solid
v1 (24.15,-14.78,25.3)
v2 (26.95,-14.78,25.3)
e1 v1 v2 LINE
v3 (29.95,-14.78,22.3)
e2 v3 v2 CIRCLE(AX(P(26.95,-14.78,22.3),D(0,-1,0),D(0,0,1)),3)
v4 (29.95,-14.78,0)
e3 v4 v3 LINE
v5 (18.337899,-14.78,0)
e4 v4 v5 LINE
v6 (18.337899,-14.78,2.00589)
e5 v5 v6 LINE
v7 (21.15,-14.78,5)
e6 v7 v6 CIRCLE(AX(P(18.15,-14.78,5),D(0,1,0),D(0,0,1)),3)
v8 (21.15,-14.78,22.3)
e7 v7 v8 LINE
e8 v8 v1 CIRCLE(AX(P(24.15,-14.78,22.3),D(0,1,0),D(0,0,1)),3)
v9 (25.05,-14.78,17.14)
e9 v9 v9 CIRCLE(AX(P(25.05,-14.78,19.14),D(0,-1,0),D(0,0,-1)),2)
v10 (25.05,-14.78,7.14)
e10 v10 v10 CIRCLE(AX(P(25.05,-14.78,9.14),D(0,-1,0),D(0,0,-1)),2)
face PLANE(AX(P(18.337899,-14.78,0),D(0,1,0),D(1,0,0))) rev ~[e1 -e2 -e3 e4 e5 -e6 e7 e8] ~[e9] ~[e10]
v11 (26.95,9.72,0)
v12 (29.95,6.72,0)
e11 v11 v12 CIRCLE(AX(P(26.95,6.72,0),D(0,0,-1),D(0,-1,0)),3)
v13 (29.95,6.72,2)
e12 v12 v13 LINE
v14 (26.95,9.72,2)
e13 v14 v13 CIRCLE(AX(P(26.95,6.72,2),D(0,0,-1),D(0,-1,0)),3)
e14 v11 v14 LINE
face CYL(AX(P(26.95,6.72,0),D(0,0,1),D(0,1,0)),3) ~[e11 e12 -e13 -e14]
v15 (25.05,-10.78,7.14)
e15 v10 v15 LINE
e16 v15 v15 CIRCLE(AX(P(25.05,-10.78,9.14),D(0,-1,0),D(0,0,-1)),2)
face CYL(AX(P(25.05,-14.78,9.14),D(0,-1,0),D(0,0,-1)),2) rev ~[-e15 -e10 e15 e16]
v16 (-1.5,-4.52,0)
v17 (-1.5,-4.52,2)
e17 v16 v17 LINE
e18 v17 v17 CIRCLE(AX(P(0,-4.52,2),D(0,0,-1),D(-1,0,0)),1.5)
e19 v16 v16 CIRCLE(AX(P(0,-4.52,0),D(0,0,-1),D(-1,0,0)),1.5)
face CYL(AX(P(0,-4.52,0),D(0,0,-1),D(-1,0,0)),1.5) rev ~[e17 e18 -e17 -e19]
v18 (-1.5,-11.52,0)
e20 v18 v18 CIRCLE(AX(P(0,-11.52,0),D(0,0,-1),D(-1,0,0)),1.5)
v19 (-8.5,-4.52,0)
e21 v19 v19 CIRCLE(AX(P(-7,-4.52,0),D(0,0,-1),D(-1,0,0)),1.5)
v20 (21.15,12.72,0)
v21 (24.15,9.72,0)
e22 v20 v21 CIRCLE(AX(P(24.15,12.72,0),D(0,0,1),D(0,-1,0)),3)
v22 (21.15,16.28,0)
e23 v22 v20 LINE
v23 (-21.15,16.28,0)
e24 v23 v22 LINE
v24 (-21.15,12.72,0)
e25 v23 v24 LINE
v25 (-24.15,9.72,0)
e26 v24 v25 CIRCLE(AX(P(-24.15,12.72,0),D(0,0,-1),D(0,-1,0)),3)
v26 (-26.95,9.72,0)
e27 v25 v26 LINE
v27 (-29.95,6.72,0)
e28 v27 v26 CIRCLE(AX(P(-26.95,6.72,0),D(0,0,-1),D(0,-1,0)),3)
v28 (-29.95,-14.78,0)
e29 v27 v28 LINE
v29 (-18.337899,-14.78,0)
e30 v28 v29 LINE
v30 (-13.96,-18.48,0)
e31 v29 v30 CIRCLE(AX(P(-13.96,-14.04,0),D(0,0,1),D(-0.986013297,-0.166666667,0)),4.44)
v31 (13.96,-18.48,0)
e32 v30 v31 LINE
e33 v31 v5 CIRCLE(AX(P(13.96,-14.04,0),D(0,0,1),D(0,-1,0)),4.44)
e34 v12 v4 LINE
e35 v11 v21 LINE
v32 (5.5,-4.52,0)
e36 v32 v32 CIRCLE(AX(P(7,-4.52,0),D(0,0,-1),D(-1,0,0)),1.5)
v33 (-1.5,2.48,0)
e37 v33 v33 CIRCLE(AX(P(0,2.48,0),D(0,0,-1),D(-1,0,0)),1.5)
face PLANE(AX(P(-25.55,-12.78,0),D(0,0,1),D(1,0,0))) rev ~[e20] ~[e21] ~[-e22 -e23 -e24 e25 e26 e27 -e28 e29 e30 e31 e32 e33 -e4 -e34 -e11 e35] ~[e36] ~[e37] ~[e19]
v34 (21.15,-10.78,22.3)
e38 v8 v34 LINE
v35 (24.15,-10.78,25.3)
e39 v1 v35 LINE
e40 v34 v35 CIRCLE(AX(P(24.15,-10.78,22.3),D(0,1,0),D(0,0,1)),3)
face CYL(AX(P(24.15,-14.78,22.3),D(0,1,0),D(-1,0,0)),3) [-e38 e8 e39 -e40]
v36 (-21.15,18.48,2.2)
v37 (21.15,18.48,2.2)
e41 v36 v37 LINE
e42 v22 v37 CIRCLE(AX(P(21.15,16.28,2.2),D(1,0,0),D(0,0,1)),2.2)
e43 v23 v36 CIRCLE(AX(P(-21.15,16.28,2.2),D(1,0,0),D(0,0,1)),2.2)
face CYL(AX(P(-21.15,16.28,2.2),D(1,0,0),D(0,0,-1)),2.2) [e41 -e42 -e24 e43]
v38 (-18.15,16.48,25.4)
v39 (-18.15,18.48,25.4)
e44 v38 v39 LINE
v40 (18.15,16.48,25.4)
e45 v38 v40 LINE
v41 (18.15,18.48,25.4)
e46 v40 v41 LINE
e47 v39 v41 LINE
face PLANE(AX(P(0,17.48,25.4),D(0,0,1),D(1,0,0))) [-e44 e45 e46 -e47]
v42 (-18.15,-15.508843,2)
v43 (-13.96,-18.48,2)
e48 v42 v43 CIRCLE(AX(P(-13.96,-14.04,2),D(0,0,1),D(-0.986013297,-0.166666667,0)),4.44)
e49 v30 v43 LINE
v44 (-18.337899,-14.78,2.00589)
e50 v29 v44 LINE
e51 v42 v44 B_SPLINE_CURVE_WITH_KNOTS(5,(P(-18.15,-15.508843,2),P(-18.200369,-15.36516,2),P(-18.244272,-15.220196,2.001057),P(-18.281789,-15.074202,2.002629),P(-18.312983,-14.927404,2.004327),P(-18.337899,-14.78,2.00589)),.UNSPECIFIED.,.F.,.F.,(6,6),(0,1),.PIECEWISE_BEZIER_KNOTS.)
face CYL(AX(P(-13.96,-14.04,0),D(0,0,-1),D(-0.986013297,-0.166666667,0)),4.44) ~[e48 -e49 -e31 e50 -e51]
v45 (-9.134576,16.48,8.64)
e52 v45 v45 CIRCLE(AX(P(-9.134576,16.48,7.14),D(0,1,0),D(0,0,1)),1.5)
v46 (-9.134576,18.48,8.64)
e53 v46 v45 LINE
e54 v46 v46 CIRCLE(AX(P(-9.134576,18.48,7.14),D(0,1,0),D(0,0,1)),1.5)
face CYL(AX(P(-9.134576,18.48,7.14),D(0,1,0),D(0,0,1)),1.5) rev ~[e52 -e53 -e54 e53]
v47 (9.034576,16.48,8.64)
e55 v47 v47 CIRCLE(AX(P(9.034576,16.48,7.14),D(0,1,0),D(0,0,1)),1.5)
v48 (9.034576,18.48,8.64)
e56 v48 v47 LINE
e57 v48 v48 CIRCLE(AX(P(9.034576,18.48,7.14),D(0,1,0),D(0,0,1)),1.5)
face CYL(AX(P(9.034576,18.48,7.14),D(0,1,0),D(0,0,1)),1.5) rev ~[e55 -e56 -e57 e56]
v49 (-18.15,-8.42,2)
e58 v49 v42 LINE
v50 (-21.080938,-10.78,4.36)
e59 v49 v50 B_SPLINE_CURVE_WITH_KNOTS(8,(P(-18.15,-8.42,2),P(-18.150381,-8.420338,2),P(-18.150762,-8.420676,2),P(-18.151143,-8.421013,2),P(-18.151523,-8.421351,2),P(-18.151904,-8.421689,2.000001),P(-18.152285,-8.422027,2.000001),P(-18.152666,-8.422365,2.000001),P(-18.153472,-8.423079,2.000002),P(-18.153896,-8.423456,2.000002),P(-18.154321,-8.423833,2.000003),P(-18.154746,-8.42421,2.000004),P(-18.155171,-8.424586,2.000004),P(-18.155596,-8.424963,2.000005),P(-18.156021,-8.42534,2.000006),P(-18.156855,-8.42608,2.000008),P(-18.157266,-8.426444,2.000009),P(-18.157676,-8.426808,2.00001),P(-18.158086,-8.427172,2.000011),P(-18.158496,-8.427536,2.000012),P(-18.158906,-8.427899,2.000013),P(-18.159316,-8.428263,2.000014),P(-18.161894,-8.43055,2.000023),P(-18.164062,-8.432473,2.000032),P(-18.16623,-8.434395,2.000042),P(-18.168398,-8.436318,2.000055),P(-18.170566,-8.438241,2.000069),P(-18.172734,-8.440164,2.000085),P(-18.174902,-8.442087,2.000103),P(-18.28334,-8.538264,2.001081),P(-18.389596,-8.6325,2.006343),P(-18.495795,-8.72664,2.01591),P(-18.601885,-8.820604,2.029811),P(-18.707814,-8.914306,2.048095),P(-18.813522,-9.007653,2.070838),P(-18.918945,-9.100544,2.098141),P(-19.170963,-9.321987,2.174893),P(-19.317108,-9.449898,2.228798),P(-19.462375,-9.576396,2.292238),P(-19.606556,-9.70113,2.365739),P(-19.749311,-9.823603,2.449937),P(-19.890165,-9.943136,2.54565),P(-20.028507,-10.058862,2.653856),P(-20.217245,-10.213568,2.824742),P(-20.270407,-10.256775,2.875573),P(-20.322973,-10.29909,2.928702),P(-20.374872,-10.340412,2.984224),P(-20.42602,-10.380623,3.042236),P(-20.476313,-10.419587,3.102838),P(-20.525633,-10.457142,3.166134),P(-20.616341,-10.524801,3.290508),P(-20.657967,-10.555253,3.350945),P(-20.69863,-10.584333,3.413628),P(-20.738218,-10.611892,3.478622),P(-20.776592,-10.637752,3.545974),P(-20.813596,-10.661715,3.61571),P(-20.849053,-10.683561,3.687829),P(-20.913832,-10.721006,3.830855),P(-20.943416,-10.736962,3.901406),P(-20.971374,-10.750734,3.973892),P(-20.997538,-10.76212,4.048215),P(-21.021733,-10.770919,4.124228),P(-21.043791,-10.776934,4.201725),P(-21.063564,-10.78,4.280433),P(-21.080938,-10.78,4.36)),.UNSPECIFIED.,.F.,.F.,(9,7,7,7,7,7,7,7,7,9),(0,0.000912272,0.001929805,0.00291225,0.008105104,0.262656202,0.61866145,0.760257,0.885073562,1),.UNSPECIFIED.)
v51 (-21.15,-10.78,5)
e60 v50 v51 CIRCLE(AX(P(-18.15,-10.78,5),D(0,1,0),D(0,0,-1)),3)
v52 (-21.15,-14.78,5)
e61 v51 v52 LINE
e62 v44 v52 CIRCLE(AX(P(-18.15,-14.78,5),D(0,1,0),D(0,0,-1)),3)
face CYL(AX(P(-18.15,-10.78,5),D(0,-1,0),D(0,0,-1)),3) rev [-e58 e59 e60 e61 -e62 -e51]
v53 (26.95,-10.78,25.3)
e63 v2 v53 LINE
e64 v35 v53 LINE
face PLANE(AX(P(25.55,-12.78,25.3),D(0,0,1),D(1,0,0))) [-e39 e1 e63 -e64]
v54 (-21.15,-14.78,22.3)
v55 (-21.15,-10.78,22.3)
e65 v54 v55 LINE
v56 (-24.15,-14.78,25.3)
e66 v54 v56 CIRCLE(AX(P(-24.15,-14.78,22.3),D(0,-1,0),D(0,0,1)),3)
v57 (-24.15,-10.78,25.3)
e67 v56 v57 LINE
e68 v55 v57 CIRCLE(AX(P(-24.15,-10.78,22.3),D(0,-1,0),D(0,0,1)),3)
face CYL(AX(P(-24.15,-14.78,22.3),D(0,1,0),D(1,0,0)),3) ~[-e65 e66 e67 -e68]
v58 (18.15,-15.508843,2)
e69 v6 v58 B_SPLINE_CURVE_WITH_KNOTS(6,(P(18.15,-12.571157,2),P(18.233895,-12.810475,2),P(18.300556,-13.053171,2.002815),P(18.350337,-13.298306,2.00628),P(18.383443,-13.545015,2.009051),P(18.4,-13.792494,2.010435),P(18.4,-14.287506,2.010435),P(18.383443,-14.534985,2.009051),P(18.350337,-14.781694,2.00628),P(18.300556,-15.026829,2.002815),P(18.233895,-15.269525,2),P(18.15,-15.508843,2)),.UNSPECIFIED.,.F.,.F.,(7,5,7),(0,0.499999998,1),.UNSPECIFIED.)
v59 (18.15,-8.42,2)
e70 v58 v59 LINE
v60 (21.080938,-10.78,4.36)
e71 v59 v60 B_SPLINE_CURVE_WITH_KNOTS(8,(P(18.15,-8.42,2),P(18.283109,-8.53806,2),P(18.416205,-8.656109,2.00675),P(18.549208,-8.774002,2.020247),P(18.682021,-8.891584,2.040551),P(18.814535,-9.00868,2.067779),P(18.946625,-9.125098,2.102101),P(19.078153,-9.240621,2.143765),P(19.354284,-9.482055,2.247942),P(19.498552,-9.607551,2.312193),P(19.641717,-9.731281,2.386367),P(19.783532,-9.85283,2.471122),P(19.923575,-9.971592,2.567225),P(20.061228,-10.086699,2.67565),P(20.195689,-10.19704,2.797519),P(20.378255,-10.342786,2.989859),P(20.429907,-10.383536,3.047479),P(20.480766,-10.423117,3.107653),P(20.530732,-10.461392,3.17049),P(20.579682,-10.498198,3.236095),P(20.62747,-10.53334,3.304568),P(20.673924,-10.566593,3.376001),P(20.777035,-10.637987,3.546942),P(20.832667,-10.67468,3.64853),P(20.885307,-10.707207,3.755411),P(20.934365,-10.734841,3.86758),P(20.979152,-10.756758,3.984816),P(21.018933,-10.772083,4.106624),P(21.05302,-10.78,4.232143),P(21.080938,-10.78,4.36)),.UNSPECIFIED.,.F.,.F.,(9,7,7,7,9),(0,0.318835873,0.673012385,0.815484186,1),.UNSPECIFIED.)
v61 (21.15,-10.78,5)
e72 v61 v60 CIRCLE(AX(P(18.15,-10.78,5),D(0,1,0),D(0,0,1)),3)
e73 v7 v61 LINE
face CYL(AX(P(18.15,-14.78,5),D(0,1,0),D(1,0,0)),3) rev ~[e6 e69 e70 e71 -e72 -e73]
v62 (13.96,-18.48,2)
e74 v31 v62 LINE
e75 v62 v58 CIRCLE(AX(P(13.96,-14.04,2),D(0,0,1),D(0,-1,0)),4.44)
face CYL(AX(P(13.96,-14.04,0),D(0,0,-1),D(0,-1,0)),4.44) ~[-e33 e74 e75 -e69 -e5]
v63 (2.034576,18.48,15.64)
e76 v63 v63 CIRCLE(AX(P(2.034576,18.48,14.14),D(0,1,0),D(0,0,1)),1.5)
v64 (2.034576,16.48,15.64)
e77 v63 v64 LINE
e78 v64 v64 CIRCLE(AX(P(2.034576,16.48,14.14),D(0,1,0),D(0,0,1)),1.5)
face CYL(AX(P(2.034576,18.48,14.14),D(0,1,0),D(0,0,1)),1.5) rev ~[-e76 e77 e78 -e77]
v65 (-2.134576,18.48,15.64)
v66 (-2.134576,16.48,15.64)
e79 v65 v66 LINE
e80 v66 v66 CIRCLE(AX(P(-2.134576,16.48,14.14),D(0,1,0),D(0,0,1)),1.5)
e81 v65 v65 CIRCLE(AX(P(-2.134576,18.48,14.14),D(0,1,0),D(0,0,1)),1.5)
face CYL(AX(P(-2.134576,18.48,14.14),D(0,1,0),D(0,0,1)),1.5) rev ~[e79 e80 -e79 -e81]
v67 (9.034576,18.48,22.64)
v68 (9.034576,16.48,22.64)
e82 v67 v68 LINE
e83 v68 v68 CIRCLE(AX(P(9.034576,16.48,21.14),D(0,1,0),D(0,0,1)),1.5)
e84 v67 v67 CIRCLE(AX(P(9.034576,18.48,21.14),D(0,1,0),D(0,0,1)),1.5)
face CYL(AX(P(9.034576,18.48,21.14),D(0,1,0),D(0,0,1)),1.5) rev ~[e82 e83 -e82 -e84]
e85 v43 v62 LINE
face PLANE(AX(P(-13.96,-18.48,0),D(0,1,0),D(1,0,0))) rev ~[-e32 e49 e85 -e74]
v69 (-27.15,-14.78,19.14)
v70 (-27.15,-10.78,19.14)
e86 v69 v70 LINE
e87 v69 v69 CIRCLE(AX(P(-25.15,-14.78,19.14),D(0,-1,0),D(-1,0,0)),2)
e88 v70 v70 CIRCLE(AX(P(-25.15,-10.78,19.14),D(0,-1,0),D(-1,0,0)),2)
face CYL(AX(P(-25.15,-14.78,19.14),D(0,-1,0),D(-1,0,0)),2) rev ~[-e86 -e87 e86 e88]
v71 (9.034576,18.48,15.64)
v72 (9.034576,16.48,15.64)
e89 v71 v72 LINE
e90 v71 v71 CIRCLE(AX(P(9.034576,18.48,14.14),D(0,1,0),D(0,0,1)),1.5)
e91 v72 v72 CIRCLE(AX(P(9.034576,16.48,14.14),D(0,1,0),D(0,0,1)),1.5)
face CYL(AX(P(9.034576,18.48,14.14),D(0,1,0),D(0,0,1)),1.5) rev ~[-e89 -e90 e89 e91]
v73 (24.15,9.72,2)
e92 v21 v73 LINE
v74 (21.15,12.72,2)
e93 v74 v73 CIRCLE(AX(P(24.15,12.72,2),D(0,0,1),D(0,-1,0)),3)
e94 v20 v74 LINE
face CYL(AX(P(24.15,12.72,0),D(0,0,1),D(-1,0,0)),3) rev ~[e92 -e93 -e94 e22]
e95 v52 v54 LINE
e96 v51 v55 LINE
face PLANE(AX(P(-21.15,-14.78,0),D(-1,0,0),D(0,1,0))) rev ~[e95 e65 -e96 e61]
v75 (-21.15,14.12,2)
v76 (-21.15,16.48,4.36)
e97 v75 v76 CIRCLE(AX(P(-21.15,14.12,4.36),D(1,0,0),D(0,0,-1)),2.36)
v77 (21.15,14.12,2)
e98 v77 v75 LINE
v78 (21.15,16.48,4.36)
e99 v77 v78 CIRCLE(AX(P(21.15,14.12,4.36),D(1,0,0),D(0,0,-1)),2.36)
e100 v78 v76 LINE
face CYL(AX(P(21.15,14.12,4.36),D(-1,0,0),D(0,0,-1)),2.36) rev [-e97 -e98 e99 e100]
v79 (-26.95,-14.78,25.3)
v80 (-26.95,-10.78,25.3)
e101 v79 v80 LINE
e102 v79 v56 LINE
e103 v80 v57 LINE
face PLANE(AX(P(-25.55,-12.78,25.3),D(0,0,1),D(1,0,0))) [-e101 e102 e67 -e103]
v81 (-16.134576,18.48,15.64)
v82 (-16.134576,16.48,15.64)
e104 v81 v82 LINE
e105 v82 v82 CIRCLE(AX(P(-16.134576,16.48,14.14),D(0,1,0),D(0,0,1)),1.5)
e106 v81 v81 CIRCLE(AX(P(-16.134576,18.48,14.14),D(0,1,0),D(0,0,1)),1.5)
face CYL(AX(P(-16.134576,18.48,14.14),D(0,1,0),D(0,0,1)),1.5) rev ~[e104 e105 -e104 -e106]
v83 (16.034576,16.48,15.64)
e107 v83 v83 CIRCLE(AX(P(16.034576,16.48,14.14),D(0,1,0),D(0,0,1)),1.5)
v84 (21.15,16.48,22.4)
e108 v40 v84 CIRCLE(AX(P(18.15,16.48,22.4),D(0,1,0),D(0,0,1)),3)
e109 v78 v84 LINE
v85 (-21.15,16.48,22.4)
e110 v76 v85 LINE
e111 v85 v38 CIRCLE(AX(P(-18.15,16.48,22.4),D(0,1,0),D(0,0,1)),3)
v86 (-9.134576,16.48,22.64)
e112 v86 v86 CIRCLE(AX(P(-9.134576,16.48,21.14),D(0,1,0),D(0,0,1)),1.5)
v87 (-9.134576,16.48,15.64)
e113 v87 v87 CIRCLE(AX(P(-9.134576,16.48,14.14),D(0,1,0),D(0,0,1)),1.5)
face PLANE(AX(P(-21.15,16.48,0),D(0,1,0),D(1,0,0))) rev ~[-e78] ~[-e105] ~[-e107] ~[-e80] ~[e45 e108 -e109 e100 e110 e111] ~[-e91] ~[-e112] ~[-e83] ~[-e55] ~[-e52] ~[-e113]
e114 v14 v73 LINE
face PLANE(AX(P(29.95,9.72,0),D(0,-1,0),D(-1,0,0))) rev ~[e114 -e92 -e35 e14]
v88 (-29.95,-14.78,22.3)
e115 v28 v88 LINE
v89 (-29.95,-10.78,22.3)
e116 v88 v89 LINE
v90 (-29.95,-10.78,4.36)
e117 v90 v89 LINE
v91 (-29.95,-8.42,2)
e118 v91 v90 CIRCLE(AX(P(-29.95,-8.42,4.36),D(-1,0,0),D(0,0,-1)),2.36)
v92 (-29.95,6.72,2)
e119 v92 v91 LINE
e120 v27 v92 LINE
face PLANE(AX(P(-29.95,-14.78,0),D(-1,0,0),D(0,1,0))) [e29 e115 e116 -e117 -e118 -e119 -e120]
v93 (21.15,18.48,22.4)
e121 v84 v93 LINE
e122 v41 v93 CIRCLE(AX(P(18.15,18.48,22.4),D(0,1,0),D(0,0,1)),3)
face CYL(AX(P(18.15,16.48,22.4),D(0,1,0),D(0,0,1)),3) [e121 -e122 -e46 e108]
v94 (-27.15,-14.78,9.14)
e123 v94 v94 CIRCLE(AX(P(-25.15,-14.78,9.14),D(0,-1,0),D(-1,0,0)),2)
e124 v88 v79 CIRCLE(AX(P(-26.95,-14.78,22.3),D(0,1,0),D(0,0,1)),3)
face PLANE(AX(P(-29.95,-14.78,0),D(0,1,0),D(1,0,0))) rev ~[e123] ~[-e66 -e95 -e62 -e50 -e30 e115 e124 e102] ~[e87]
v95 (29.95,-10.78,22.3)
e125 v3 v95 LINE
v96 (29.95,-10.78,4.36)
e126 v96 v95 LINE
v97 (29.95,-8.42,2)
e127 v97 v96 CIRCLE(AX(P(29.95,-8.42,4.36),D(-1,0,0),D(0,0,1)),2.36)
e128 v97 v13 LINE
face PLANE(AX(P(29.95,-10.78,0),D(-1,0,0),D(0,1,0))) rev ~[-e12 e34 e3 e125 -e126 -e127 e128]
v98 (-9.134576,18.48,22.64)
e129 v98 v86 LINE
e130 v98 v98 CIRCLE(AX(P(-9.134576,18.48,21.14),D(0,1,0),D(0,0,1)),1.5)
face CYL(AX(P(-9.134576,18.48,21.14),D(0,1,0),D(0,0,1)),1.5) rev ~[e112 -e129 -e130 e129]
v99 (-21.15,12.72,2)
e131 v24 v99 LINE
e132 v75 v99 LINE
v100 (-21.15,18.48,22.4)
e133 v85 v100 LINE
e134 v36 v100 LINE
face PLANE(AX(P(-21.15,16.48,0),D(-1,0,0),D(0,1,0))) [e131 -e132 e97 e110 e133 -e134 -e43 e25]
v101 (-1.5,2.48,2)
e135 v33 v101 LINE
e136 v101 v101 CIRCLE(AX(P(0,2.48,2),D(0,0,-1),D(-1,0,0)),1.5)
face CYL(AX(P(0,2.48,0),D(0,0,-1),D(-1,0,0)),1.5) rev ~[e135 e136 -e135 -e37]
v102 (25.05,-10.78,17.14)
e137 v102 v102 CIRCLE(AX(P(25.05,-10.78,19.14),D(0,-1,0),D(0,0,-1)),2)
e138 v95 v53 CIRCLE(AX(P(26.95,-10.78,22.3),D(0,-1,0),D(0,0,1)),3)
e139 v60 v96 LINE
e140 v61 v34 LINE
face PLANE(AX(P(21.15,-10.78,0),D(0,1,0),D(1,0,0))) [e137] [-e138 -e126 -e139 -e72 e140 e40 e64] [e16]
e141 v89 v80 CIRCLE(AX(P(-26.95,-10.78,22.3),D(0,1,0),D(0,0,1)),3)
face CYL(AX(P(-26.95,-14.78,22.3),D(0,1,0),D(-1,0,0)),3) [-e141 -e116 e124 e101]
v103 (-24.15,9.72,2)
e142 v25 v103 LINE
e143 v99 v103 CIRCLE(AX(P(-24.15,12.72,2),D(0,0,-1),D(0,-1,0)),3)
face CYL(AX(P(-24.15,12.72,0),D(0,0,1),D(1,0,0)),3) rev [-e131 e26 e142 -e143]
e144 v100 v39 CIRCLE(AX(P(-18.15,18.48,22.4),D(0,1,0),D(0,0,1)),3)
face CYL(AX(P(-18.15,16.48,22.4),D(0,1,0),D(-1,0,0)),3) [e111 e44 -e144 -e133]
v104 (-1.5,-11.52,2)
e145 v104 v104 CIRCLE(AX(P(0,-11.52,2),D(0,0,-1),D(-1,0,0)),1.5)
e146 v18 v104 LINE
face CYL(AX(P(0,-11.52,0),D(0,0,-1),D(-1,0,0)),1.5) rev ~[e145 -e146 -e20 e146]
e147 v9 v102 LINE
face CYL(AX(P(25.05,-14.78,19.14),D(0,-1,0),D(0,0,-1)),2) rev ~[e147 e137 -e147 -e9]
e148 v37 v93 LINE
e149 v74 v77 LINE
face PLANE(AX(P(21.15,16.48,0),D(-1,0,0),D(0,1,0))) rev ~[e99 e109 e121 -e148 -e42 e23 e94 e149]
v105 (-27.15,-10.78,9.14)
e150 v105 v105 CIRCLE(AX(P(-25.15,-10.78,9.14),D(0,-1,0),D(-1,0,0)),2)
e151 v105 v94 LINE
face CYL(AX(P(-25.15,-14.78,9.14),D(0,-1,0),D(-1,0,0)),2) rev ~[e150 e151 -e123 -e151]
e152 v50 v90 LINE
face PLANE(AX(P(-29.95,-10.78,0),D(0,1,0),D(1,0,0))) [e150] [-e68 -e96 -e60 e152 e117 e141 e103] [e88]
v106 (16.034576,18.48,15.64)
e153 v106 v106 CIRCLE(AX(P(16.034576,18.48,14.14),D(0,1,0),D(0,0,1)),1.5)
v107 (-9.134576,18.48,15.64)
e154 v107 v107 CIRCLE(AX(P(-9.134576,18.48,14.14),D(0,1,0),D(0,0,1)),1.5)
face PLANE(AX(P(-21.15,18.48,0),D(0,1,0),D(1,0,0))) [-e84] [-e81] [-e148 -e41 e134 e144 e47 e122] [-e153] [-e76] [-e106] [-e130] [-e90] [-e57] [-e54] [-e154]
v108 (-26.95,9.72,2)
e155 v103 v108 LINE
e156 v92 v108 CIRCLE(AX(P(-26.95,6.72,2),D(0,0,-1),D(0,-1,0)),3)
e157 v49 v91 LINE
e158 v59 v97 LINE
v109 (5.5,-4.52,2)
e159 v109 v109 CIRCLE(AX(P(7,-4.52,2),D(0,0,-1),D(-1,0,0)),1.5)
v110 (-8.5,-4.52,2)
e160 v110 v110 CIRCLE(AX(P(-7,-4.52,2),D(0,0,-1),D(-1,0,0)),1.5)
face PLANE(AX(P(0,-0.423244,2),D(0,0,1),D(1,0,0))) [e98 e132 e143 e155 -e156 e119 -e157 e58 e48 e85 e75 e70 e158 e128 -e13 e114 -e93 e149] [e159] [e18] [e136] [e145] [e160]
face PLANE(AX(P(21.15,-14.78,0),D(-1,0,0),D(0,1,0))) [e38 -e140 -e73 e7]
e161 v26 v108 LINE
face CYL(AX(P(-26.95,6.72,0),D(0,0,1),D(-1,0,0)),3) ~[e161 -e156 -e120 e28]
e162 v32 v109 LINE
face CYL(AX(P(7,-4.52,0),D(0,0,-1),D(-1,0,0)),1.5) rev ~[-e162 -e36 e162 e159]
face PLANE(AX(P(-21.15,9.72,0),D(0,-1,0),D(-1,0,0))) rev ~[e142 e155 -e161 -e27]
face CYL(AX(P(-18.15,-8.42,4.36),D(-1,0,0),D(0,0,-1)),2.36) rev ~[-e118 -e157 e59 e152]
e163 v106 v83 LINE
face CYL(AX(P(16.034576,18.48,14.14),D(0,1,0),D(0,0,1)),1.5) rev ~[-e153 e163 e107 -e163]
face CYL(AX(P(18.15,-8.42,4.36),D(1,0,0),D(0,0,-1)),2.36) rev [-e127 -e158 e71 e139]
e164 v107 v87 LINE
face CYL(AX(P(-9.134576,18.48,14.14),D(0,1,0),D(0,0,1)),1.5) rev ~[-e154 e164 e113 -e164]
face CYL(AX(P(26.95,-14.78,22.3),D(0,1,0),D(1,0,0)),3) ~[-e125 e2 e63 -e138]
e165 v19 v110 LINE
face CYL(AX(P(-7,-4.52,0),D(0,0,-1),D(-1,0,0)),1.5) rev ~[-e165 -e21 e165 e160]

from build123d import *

# Parameters (mm, degrees)
BOSS_EXTRUDE1_DEPTH = 2
SKETCH1_3_W         = 42.3
SKETCH1_3_H         = 2
BOSS_EXTRUDE2_DEPTH = 25.4
SKETCH1_4_W         = 8.8
SKETCH1_4_H         = 4
BOSS_EXTRUDE3_DEPTH = 25.3
FILLET31_R          = 3
FILLET32_R          = 2.36
FILLET26_R          = 2.2
SKETCH2_R           = 2
CUT_EXTRUDE1_DEPTH  = 10
SKETCH3_R           = 1.5
CUT_EXTRUDE2_DEPTH  = 10
SKETCH4_R           = 1.5
CUT_EXTRUDE3_DEPTH  = 10


with BuildPart() as part:
    # Sketch1 → Boss-Extrude1 (new body)
    with BuildSketch(Plane.XY):
        with BuildLine():
            Line((21.15, 16.48), (-21.15, 16.48))
            Line((-21.15, 16.48), (-21.15, 9.72))
            Line((-21.15, 9.72), (-29.95, 9.72))
            Line((-29.95, 9.72), (-29.95, -10.78))
            Line((-29.95, -10.78), (-21.15, -10.78))
            Line((-21.15, -10.78), (-21.15, -14.78))
            Line((-21.15, -14.78), (-18.337899039, -14.78))
            ThreePointArc((-18.337899039, -14.78), (-16.826007676, -17.431106014), (-13.96, -18.48))
            Line((-13.96, -18.48), (13.96, -18.48))
            ThreePointArc((13.96, -18.48), (16.826007676, -17.431106014), (18.337899039, -14.78))
            Line((18.337899039, -14.78), (21.15, -14.78))
            Line((21.15, -14.78), (21.15, -10.78))
            Line((21.15, -10.78), (29.95, -10.78))
            Line((29.95, -10.78), (29.95, 9.72))
            Line((29.95, 9.72), (21.15, 9.72))
            Line((21.15, 9.72), (21.15, 16.48))
        make_face()
    extrude(amount=BOSS_EXTRUDE1_DEPTH)

    # Sketch1<3> → Boss-Extrude2 (add)
    with BuildSketch(Plane.XY):
        with Locations((0, 17.48)):
            Rectangle(SKETCH1_3_W, SKETCH1_3_H)
    extrude(amount=BOSS_EXTRUDE2_DEPTH)

    # Sketch1<4> → Boss-Extrude3 (add)
    with BuildSketch(Plane.XY):
        with Locations((-25.55, -12.78)):
            Rectangle(SKETCH1_4_W, SKETCH1_4_H)
        with Locations((25.55, -12.78)):
            Rectangle(SKETCH1_4_W, SKETCH1_4_H)
    extrude(amount=BOSS_EXTRUDE3_DEPTH)

    # Fillet31
    fillet31_edges = [part.edges().sort_by_distance(p)[0] for p in [
        (21.15, -12.78, 25.3),
        (29.95, -12.78, 25.3),
        (21.15, 17.48, 25.4),
        (-21.15, 17.48, 25.4),
        (-29.95, -12.78, 25.3),
        (-21.15, -12.78, 25.3),
        (-29.95, 9.72, 1),
        (-21.15, 9.72, 1),
        (21.15, 9.72, 1),
        (29.95, 9.72, 1),
        (21.15, -12.78, 2),
        (-21.15, -12.78, 2),
    ]]
    fillet(fillet31_edges, radius=FILLET31_R)

    # Fillet32
    fillet32_edges = [part.edges().sort_by_distance(p)[0] for p in [
        (24.05, -10.78, 2),
        (-24.05, -10.78, 2),
        (0, 16.48, 2),
    ]]
    fillet(fillet32_edges, radius=FILLET32_R)

    # Fillet26
    fillet26_edges = [part.edges().sort_by_distance(p)[0] for p in [
        (0, 18.48, 0),
    ]]
    fillet(fillet26_edges, radius=FILLET26_R)

    # Sketch2 → Cut-Extrude1 (cut, symmetric)
    with BuildSketch(Plane.XZ.offset(14.78)):
        with Locations((25.05, 19.14)):
            Circle(SKETCH2_R)
        with Locations((25.05, 9.14)):
            Circle(SKETCH2_R)
        with Locations((-25.15, 19.14)):
            Circle(SKETCH2_R)
        with Locations((-25.15, 9.14)):
            Circle(SKETCH2_R)
    extrude(amount=CUT_EXTRUDE1_DEPTH, both=True, mode=Mode.SUBTRACT)

    # Sketch3 → Cut-Extrude2 (cut)
    with BuildSketch(Plane(origin=(0, 18.48, 0), x_dir=(1, 0, 0), z_dir=(0, 1, 0))):
        with Locations((-9.134575671, -14.14)):
            Circle(SKETCH3_R)
        with Locations((-9.134575671, -7.14)):
            Circle(SKETCH3_R)
        with Locations((-2.134575671, -14.14)):
            Circle(SKETCH3_R)
        with Locations((-9.134575671, -21.14)):
            Circle(SKETCH3_R)
        with Locations((-16.134575671, -14.14)):
            Circle(SKETCH3_R)
        with Locations((9.034575671, -14.14)):
            Circle(SKETCH3_R)
        with Locations((9.034575671, -7.14)):
            Circle(SKETCH3_R)
        with Locations((16.034575671, -14.14)):
            Circle(SKETCH3_R)
        with Locations((9.034575671, -21.14)):
            Circle(SKETCH3_R)
        with Locations((2.034575671, -14.14)):
            Circle(SKETCH3_R)
    extrude(amount=-CUT_EXTRUDE2_DEPTH, mode=Mode.SUBTRACT)

    # Sketch4 → Cut-Extrude3 (cut)
    with BuildSketch(Plane(origin=(0, 0, 0), x_dir=(-1, 0, 0), z_dir=(0, 0, -1))):
        with Locations((0, 2.48)):
            Circle(SKETCH4_R)
        with Locations((0, -4.52)):
            Circle(SKETCH4_R)
        with Locations((0, -11.52)):
            Circle(SKETCH4_R)
        with Locations((7, -4.52)):
            Circle(SKETCH4_R)
        with Locations((-7, -4.52)):
            Circle(SKETCH4_R)
    extrude(amount=-CUT_EXTRUDE3_DEPTH, mode=Mode.SUBTRACT)


solid = part.part
